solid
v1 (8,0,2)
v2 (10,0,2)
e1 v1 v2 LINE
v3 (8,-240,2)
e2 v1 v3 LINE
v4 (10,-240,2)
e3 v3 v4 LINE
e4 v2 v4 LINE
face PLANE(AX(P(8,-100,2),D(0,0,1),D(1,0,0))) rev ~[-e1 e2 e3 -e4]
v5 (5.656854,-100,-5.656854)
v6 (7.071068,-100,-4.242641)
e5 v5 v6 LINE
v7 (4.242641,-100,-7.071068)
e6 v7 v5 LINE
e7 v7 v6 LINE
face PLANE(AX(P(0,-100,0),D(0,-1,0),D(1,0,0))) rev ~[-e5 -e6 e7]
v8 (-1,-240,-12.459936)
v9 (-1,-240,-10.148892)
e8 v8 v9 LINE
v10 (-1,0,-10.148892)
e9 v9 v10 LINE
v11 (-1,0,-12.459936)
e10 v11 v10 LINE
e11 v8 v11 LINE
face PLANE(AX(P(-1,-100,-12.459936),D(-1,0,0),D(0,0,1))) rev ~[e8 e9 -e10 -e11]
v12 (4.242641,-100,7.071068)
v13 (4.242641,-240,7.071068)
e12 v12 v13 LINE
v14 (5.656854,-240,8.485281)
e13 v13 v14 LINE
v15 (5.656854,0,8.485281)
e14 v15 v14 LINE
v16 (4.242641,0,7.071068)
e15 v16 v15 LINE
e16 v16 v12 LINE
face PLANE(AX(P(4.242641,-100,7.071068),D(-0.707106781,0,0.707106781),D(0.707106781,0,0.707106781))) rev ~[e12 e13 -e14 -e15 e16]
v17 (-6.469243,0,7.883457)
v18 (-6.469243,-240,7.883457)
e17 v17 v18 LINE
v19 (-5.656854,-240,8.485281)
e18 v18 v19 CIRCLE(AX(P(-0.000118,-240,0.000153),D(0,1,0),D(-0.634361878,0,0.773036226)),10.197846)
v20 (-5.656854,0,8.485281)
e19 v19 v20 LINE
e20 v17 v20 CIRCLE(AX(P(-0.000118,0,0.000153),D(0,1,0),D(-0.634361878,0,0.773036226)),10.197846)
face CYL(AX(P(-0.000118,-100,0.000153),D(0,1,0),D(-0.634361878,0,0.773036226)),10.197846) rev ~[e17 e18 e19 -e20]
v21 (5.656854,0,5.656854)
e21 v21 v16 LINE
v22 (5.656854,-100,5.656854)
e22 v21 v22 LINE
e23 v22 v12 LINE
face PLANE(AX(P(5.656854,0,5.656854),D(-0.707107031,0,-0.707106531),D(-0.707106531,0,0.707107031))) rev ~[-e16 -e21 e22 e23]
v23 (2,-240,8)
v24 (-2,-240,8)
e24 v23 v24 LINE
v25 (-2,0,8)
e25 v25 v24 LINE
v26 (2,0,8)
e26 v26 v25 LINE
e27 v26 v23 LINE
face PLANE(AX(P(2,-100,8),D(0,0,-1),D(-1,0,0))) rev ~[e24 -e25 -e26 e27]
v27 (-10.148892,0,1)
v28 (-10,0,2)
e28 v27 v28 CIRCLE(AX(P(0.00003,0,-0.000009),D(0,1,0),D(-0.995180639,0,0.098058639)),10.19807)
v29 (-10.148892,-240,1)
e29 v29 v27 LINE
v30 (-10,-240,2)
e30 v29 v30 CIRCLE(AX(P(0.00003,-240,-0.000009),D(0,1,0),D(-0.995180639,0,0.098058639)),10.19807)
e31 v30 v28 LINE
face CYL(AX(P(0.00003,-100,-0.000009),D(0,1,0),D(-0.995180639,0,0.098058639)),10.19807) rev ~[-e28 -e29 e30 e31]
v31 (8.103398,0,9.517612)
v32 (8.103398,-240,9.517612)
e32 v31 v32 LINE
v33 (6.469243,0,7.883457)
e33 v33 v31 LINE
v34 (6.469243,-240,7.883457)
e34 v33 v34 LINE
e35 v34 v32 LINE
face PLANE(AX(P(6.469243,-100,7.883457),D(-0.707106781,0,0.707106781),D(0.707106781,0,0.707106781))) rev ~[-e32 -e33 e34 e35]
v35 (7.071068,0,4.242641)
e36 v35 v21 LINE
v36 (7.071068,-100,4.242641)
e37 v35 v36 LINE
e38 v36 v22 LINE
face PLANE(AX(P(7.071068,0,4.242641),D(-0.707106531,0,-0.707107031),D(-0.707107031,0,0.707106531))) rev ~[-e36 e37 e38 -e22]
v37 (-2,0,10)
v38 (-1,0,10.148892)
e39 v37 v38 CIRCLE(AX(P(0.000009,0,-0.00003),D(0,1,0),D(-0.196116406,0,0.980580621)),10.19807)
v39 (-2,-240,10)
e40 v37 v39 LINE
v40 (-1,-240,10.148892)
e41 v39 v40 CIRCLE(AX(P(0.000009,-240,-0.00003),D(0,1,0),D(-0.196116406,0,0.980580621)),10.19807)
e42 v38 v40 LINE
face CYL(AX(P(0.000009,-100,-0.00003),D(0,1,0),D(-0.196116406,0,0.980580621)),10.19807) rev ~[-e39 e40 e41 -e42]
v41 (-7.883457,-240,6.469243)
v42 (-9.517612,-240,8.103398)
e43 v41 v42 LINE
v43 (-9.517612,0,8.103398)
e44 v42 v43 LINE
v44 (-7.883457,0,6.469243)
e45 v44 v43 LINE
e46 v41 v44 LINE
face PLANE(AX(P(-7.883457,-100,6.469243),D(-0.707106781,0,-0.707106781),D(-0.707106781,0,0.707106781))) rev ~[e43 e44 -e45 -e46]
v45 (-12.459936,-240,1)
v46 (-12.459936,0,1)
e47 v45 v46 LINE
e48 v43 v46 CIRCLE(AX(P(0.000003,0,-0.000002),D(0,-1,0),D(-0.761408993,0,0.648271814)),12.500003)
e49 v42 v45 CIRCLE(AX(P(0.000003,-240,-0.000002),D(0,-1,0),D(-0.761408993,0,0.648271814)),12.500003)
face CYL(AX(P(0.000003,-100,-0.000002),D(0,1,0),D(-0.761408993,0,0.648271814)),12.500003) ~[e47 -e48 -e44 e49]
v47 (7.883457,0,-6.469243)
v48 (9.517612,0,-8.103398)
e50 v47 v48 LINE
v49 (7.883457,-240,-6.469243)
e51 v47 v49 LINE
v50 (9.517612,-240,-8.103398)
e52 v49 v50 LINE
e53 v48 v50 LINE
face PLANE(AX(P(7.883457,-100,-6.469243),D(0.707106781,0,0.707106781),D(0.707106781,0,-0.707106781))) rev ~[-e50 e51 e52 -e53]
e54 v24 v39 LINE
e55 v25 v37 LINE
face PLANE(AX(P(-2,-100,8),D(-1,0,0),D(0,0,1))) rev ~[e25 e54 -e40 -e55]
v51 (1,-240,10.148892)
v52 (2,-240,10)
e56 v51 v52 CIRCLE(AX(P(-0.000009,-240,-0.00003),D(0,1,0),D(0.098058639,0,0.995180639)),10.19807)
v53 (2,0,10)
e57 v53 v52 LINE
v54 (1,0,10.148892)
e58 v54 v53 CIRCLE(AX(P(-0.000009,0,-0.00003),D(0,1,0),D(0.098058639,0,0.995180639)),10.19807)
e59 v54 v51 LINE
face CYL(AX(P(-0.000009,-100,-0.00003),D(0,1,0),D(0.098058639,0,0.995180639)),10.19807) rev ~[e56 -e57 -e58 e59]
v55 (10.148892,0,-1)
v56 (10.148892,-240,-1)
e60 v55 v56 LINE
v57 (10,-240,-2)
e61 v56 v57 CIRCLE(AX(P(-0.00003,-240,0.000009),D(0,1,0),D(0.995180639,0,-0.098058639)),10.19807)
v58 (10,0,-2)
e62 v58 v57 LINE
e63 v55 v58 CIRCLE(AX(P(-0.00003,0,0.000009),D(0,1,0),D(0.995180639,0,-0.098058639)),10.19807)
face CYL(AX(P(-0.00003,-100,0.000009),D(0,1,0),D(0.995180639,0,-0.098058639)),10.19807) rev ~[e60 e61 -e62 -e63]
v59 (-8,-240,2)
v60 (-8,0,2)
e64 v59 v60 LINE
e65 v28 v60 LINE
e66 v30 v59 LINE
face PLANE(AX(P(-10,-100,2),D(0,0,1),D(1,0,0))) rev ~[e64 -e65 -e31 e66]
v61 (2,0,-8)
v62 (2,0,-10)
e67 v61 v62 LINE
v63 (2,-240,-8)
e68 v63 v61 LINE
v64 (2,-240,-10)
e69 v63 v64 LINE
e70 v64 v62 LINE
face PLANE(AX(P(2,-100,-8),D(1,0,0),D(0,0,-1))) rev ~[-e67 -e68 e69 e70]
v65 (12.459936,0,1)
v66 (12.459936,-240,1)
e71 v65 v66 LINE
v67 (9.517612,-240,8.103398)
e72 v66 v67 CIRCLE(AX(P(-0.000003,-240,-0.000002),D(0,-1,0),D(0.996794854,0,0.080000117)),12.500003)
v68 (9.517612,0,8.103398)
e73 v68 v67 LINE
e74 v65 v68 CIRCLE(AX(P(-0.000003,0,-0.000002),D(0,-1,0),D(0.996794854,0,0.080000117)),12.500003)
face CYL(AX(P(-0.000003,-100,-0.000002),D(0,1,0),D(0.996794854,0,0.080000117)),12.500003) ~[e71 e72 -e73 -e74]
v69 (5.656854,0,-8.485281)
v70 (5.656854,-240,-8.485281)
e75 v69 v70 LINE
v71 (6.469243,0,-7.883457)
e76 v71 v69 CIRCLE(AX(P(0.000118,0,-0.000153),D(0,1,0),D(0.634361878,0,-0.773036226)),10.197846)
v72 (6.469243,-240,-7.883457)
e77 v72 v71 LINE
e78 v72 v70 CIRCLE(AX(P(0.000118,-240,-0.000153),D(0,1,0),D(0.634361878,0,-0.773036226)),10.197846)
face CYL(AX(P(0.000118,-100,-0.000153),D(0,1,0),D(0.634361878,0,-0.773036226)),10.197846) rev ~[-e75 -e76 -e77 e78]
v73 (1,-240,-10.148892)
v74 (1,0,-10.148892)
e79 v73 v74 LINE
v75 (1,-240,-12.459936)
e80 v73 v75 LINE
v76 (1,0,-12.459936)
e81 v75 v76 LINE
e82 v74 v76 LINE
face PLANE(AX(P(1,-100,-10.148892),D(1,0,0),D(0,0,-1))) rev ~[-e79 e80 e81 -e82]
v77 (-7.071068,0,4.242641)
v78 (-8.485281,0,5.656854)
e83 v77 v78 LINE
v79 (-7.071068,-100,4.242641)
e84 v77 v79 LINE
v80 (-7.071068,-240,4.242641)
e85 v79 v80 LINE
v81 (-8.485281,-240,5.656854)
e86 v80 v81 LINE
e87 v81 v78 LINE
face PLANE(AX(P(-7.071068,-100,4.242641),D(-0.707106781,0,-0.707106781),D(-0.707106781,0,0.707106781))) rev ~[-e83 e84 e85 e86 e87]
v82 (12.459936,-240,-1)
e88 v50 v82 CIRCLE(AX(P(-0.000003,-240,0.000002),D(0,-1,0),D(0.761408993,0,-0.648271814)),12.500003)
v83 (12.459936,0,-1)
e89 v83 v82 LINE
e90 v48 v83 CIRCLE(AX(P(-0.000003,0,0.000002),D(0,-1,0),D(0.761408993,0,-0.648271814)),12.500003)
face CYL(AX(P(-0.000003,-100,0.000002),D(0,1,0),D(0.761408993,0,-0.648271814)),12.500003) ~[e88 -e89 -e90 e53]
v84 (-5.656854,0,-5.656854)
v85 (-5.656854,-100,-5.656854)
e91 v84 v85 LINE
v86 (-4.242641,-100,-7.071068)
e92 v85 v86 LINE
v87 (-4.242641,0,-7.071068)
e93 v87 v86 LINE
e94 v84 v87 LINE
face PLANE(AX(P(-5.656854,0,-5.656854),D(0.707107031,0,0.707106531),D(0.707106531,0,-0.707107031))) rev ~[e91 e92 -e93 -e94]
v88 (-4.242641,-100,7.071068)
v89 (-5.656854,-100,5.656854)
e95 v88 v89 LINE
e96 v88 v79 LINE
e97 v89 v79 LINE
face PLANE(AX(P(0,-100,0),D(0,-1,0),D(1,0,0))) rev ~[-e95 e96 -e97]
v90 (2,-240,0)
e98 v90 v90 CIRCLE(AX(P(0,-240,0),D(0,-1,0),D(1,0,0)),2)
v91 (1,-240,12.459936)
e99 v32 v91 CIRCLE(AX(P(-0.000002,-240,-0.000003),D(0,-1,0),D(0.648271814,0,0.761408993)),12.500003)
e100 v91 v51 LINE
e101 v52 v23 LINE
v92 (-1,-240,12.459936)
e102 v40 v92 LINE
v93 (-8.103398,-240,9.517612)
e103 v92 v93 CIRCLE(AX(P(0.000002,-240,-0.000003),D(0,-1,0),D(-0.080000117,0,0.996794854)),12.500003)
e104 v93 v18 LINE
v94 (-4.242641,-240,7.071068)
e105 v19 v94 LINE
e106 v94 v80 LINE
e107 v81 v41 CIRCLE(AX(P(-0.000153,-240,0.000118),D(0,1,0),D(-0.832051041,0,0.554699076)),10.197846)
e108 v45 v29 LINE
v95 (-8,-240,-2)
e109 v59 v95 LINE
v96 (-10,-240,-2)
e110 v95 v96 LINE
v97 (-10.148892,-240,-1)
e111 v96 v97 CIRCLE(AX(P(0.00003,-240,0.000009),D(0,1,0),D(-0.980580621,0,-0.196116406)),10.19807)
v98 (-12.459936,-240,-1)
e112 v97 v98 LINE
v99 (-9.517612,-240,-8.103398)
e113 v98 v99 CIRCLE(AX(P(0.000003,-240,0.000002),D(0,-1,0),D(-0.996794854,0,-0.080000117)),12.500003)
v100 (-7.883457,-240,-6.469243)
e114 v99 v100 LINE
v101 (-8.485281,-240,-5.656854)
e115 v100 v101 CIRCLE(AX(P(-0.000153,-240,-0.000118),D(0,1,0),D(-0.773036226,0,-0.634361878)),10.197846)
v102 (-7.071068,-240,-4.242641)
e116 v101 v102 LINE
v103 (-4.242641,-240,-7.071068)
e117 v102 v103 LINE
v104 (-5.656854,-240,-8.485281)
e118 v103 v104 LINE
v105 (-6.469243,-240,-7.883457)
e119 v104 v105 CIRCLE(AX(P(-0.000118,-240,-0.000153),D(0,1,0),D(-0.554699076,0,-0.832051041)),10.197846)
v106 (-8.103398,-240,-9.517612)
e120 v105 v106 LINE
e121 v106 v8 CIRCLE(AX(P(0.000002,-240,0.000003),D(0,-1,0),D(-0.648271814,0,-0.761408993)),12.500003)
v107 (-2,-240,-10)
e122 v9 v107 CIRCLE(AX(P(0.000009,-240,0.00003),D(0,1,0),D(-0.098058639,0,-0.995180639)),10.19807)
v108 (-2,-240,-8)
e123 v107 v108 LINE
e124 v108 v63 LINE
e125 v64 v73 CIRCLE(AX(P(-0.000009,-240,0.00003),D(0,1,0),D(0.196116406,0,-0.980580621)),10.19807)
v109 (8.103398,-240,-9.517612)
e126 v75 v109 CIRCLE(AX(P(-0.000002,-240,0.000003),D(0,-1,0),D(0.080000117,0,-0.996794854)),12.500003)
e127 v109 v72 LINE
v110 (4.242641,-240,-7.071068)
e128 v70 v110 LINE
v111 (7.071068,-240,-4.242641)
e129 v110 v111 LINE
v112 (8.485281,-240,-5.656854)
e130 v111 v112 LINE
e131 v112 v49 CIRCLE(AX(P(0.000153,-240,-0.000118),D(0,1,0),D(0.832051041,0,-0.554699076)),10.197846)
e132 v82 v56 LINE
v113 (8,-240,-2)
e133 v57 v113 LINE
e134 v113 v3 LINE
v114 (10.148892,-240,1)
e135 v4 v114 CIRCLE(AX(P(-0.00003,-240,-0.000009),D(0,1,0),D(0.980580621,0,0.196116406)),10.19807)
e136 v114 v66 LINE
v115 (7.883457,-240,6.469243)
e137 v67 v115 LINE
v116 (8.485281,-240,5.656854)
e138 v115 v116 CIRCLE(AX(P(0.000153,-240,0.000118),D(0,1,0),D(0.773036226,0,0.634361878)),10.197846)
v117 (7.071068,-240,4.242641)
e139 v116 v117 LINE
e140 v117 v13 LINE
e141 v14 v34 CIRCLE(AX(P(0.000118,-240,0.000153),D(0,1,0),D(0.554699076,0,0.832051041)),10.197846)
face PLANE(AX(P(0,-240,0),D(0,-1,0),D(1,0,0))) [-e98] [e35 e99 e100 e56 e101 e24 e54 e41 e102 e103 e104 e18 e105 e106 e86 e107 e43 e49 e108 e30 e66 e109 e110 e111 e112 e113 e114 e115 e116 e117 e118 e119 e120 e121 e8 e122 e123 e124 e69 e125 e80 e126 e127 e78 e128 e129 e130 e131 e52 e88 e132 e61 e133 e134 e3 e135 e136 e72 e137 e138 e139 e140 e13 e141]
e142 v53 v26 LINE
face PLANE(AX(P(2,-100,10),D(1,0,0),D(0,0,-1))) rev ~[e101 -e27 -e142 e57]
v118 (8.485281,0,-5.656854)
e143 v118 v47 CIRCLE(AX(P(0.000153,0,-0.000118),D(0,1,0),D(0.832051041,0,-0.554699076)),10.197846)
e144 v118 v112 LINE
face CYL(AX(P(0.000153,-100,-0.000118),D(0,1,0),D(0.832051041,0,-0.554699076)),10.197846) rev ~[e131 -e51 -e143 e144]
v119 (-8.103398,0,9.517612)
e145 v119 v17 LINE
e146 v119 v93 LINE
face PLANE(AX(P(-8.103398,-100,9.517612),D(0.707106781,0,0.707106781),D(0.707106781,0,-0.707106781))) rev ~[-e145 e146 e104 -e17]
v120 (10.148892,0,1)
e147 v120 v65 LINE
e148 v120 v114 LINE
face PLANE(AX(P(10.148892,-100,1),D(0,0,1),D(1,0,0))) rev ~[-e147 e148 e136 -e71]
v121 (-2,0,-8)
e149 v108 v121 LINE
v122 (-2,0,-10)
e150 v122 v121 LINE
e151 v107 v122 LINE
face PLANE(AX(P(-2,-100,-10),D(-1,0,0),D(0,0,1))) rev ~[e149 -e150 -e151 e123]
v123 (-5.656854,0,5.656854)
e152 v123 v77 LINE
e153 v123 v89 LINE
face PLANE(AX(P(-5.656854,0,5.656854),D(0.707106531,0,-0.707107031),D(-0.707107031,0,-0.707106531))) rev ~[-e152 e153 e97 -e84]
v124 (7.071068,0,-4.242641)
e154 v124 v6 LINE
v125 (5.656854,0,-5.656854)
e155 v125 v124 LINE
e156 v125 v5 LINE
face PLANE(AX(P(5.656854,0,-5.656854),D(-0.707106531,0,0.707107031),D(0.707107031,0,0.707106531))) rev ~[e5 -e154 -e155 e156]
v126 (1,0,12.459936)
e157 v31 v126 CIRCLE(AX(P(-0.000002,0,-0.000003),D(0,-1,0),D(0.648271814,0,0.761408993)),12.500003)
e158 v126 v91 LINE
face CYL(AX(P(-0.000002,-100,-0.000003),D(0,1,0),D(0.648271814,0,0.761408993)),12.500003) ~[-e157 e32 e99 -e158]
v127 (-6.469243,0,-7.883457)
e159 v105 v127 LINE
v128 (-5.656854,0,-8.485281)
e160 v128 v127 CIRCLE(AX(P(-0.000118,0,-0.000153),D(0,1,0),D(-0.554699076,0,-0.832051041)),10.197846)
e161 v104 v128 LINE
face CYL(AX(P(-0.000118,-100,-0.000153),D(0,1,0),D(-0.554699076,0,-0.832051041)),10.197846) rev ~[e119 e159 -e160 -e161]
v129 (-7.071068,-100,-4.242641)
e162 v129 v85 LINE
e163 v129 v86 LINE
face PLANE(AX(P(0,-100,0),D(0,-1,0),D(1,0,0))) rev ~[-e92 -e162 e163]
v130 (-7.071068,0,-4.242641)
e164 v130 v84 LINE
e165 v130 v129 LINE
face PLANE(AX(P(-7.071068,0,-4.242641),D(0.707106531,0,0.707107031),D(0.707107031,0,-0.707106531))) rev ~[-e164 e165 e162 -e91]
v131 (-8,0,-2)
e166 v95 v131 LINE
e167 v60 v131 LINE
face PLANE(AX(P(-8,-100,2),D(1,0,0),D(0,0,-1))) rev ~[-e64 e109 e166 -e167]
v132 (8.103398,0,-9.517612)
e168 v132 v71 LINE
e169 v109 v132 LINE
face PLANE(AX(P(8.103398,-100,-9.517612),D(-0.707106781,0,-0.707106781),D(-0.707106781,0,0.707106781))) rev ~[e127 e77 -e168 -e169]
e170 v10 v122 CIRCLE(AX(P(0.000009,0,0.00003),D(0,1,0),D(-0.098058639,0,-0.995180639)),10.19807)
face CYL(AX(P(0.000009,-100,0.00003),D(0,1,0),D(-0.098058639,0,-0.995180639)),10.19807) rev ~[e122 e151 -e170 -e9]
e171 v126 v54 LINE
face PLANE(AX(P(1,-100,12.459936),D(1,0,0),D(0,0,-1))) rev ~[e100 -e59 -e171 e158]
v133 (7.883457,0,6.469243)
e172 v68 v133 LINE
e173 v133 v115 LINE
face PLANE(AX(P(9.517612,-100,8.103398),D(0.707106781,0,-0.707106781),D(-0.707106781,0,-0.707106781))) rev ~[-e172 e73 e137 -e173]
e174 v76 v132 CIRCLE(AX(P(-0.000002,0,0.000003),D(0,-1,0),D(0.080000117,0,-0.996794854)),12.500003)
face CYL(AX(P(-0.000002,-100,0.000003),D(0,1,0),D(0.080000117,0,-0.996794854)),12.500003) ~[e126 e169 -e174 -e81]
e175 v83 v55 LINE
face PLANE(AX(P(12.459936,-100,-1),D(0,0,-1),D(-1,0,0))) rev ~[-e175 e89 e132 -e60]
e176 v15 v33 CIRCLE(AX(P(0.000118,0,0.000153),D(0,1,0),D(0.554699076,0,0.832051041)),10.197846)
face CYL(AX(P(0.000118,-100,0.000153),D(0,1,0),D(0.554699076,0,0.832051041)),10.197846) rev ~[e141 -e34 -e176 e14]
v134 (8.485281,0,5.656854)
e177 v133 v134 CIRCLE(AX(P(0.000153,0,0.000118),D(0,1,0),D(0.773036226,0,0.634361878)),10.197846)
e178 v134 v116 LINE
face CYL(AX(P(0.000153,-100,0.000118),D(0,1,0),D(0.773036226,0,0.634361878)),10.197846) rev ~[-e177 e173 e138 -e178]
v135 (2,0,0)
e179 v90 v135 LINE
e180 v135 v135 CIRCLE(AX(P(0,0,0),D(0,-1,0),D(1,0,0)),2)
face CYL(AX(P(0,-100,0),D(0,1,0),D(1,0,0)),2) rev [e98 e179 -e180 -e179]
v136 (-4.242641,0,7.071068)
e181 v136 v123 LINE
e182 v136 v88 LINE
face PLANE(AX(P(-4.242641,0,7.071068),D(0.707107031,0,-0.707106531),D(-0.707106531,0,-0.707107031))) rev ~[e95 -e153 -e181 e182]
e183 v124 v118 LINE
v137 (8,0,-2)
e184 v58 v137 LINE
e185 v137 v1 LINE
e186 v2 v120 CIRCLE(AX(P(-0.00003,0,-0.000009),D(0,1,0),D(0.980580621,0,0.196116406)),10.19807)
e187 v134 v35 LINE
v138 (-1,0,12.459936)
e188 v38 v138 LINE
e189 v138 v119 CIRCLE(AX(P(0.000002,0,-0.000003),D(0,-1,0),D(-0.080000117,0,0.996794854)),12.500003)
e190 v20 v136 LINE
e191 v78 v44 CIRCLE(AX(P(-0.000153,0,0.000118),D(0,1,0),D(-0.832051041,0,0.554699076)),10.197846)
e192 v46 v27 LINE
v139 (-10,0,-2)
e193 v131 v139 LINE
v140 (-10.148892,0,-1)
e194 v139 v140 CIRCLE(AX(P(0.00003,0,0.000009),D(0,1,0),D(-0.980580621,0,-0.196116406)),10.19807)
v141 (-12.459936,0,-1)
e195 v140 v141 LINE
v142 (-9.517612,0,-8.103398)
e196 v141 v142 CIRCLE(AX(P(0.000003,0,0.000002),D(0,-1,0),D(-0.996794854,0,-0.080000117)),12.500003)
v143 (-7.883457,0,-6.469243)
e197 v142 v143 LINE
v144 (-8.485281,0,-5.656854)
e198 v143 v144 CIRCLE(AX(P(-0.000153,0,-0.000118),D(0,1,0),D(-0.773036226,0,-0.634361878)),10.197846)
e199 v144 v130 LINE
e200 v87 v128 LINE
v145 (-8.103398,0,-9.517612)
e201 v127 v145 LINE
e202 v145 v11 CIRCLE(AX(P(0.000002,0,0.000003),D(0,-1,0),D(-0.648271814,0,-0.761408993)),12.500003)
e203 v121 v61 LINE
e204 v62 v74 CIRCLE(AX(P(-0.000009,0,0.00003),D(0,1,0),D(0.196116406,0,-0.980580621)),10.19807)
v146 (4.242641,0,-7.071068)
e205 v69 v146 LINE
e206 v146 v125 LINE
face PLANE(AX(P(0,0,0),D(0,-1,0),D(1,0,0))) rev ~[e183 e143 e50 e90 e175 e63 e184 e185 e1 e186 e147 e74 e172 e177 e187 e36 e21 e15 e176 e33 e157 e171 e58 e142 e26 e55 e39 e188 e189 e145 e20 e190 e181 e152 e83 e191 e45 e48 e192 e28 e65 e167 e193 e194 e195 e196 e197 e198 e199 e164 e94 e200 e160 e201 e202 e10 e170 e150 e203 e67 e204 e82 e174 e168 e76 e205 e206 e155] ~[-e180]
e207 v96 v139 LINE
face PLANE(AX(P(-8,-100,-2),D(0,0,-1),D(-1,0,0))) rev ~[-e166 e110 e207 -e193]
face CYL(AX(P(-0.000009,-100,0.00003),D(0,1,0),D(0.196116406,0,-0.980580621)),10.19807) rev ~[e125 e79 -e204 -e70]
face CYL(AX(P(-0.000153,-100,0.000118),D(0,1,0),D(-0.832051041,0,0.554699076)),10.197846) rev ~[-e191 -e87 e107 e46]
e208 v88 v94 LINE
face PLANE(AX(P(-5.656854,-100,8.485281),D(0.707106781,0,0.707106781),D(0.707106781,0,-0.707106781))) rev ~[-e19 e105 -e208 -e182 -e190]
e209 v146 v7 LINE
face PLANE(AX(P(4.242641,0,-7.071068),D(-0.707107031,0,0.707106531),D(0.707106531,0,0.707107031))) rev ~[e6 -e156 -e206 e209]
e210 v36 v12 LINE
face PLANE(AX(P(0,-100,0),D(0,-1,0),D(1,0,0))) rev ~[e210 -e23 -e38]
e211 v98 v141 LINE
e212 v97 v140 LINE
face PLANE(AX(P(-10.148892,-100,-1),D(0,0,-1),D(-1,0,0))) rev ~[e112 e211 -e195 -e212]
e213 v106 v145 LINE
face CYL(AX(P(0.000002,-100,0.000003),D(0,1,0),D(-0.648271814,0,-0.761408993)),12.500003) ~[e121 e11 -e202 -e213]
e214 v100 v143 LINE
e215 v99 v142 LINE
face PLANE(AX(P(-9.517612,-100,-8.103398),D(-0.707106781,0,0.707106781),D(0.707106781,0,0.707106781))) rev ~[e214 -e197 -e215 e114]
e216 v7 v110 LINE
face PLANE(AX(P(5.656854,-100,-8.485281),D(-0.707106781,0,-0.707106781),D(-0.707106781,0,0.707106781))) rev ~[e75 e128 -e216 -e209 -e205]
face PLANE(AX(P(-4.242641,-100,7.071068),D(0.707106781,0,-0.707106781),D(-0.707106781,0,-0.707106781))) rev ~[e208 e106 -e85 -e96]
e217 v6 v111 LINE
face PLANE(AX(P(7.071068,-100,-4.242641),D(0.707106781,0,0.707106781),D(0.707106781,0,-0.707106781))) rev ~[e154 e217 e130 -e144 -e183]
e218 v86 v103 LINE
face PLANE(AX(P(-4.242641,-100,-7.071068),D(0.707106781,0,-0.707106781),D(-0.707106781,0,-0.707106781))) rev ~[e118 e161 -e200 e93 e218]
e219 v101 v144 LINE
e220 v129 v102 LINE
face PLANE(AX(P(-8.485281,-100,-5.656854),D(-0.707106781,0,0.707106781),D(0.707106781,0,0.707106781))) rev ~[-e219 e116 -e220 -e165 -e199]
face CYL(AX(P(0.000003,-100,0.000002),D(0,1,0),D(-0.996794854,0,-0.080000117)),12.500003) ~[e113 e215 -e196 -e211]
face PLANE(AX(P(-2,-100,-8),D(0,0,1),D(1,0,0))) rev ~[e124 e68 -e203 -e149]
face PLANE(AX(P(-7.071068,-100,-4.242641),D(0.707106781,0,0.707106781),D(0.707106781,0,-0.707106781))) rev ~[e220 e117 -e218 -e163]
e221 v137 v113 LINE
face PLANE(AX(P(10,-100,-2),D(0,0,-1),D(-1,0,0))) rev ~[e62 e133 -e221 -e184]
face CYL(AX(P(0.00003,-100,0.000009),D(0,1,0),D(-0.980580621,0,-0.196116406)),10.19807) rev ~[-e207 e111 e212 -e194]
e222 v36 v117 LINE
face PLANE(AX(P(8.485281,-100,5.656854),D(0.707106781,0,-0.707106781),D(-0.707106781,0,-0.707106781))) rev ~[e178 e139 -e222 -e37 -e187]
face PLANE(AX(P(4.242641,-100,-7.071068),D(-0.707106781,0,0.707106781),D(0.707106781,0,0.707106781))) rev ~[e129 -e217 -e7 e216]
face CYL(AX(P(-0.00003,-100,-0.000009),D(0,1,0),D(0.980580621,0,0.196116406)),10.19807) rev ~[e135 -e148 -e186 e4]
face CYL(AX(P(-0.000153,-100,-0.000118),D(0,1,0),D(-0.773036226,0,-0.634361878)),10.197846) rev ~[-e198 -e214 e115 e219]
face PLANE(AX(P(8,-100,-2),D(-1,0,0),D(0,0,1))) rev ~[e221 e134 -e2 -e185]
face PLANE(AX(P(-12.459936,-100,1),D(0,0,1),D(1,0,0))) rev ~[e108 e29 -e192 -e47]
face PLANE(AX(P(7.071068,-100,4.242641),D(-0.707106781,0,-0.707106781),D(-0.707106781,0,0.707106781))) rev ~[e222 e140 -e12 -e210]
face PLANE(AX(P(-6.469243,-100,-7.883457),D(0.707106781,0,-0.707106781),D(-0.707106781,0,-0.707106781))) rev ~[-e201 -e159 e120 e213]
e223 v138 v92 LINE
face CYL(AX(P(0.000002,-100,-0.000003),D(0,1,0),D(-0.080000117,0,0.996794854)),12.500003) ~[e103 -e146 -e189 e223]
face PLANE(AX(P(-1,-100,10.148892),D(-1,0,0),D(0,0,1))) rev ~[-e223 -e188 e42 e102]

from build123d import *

# Parameters (mm, degrees)
F0_R      = 2
F1_DEPTH  = 100
F1_FACE_R = 2
F2_DEPTH  = 140


with BuildPart() as f1:
    # F0 (on Front) → F1 (new body)
    with BuildSketch(Plane.XZ):
        with BuildLine():
            Line((8, -2), (8, 0))
            Line((8, 0), (8, 2))
            Line((8, 2), (10, 2))
            ThreePointArc((10, 2), (10.086846, 1.501846), (10.148892, 1))
            Line((10.148892, 1), (12.459936, 1))
            ThreePointArc((12.459936, 1), (11.548494, 4.783543), (9.517612, 8.103398))
            Line((9.517612, 8.103398), (7.883457, 6.469243))
            ThreePointArc((7.883457, 6.469243), (8.194443, 6.070511), (8.485281, 5.656854))
            Line((8.485281, 5.656854), (7.071068, 4.242641))
            Line((7.071068, 4.242641), (5.656854, 5.656854))
            Line((5.656854, 5.656854), (4.242641, 7.071068))
            Line((4.242641, 7.071068), (5.656854, 8.485281))
            ThreePointArc((5.656854, 8.485281), (6.070511, 8.194443), (6.469243, 7.883457))
            Line((6.469243, 7.883457), (8.103398, 9.517612))
            ThreePointArc((8.103398, 9.517612), (4.783543, 11.548494), (1, 12.459936))
            Line((1, 12.459936), (1, 10.148892))
            ThreePointArc((1, 10.148892), (1.501846, 10.086846), (2, 10))
            Line((2, 10), (2, 8))
            Line((2, 8), (0, 8))
            Line((0, 8), (-2, 8))
            Line((-2, 8), (-2, 10))
            ThreePointArc((-2, 10), (-1.501846, 10.086846), (-1, 10.148892))
            Line((-1, 10.148892), (-1, 12.459936))
            ThreePointArc((-1, 12.459936), (-4.783543, 11.548494), (-8.103398, 9.517612))
            Line((-8.103398, 9.517612), (-6.469243, 7.883457))
            ThreePointArc((-6.469243, 7.883457), (-6.070511, 8.194443), (-5.656854, 8.485281))
            Line((-5.656854, 8.485281), (-4.242641, 7.071068))
            Line((-4.242641, 7.071068), (-5.656854, 5.656854))
            Line((-5.656854, 5.656854), (-7.071068, 4.242641))
            Line((-7.071068, 4.242641), (-8.485281, 5.656854))
            ThreePointArc((-8.485281, 5.656854), (-8.194443, 6.070511), (-7.883457, 6.469243))
            Line((-7.883457, 6.469243), (-9.517612, 8.103398))
            ThreePointArc((-9.517612, 8.103398), (-11.548494, 4.783543), (-12.459936, 1))
            Line((-12.459936, 1), (-10.148892, 1))
            ThreePointArc((-10.148892, 1), (-10.086846, 1.501846), (-10, 2))
            Line((-10, 2), (-8, 2))
            Line((-8, 2), (-8, 0))
            Line((-8, 0), (-8, -2))
            Line((-8, -2), (-10, -2))
            ThreePointArc((-10, -2), (-10.086846, -1.501846), (-10.148892, -1))
            Line((-10.148892, -1), (-12.459936, -1))
            ThreePointArc((-12.459936, -1), (-11.548494, -4.783543), (-9.517612, -8.103398))
            Line((-9.517612, -8.103398), (-7.883457, -6.469243))
            ThreePointArc((-7.883457, -6.469243), (-8.194443, -6.070511), (-8.485281, -5.656854))
            Line((-8.485281, -5.656854), (-7.071068, -4.242641))
            Line((-7.071068, -4.242641), (-5.656854, -5.656854))
            Line((-5.656854, -5.656854), (-4.242641, -7.071068))
            Line((-4.242641, -7.071068), (-5.656854, -8.485281))
            ThreePointArc((-5.656854, -8.485281), (-6.070511, -8.194443), (-6.469243, -7.883457))
            Line((-6.469243, -7.883457), (-8.103398, -9.517612))
            ThreePointArc((-8.103398, -9.517612), (-4.783543, -11.548494), (-1, -12.459936))
            Line((-1, -12.459936), (-1, -10.148892))
            ThreePointArc((-1, -10.148892), (-1.501846, -10.086846), (-2, -10))
            Line((-2, -10), (-2, -8))
            Line((-2, -8), (0, -8))
            Line((0, -8), (2, -8))
            Line((2, -8), (2, -10))
            ThreePointArc((2, -10), (1.501846, -10.086846), (1, -10.148892))
            Line((1, -10.148892), (1, -12.459936))
            ThreePointArc((1, -12.459936), (4.783543, -11.548494), (8.103398, -9.517612))
            Line((8.103398, -9.517612), (6.469243, -7.883457))
            ThreePointArc((6.469243, -7.883457), (6.070511, -8.194443), (5.656854, -8.485281))
            Line((5.656854, -8.485281), (4.242641, -7.071068))
            Line((4.242641, -7.071068), (5.656854, -5.656854))
            Line((5.656854, -5.656854), (7.071068, -4.242641))
            Line((7.071068, -4.242641), (8.485281, -5.656854))
            ThreePointArc((8.485281, -5.656854), (8.194443, -6.070511), (7.883457, -6.469243))
            Line((7.883457, -6.469243), (9.517612, -8.103398))
            ThreePointArc((9.517612, -8.103398), (11.548494, -4.783543), (12.459936, -1))
            Line((12.459936, -1), (10.148892, -1))
            ThreePointArc((10.148892, -1), (10.086846, -1.501846), (10, -2))
            Line((10, -2), (8, -2))
        make_face()
        Circle(F0_R, mode=Mode.SUBTRACT)
    extrude(amount=F1_DEPTH)

    # F1_face (on face) → F2 (join)
    with BuildSketch(Plane.XZ.offset(100)):
        with BuildLine():
            ThreePointArc((6.469243, -7.883457), (6.070511, -8.194443), (5.656854, -8.485281))
            Line((5.656854, -8.485281), (4.242641, -7.071068))
            Line((4.242641, -7.071068), (7.071068, -4.242641))
            Line((7.071068, -4.242641), (8.485281, -5.656854))
            ThreePointArc((8.485281, -5.656854), (8.194443, -6.070511), (7.883457, -6.469243))
            Line((7.883457, -6.469243), (9.517612, -8.103398))
            ThreePointArc((9.517612, -8.103398), (11.548494, -4.783543), (12.459936, -1))
            Line((12.459936, -1), (10.148892, -1))
            ThreePointArc((10.148892, -1), (10.086846, -1.501846), (10, -2))
            Line((10, -2), (8, -2))
            Line((8, -2), (8, 2))
            Line((8, 2), (10, 2))
            ThreePointArc((10, 2), (10.086846, 1.501846), (10.148892, 1))
            Line((10.148892, 1), (12.459936, 1))
            ThreePointArc((12.459936, 1), (11.548494, 4.783543), (9.517612, 8.103398))
            Line((9.517612, 8.103398), (7.883457, 6.469243))
            ThreePointArc((7.883457, 6.469243), (8.194443, 6.070511), (8.485281, 5.656854))
            Line((8.485281, 5.656854), (7.071068, 4.242641))
            Line((7.071068, 4.242641), (4.242641, 7.071068))
            Line((4.242641, 7.071068), (5.656854, 8.485281))
            ThreePointArc((5.656854, 8.485281), (6.070511, 8.194443), (6.469243, 7.883457))
            Line((6.469243, 7.883457), (8.103398, 9.517612))
            ThreePointArc((8.103398, 9.517612), (4.783543, 11.548494), (1, 12.459936))
            Line((1, 12.459936), (1, 10.148892))
            ThreePointArc((1, 10.148892), (1.501846, 10.086846), (2, 10))
            Line((2, 10), (2, 8))
            Line((2, 8), (-2, 8))
            Line((-2, 8), (-2, 10))
            ThreePointArc((-2, 10), (-1.501846, 10.086846), (-1, 10.148892))
            Line((-1, 10.148892), (-1, 12.459936))
            ThreePointArc((-1, 12.459936), (-4.783543, 11.548494), (-8.103398, 9.517612))
            Line((-8.103398, 9.517612), (-6.469243, 7.883457))
            ThreePointArc((-6.469243, 7.883457), (-6.070511, 8.194443), (-5.656854, 8.485281))
            Line((-5.656854, 8.485281), (-4.242641, 7.071068))
            Line((-4.242641, 7.071068), (-7.071068, 4.242641))
            Line((-7.071068, 4.242641), (-8.485281, 5.656854))
            ThreePointArc((-8.485281, 5.656854), (-8.194443, 6.070511), (-7.883457, 6.469243))
            Line((-7.883457, 6.469243), (-9.517612, 8.103398))
            ThreePointArc((-9.517612, 8.103398), (-11.548494, 4.783543), (-12.459936, 1))
            Line((-12.459936, 1), (-10.148892, 1))
            ThreePointArc((-10.148892, 1), (-10.086846, 1.501846), (-10, 2))
            Line((-10, 2), (-8, 2))
            Line((-8, 2), (-8, -2))
            Line((-8, -2), (-10, -2))
            ThreePointArc((-10, -2), (-10.086846, -1.501846), (-10.148892, -1))
            Line((-10.148892, -1), (-12.459936, -1))
            ThreePointArc((-12.459936, -1), (-11.548494, -4.783543), (-9.517612, -8.103398))
            Line((-9.517612, -8.103398), (-7.883457, -6.469243))
            ThreePointArc((-7.883457, -6.469243), (-8.194443, -6.070511), (-8.485281, -5.656854))
            Line((-8.485281, -5.656854), (-7.071068, -4.242641))
            Line((-7.071068, -4.242641), (-4.242641, -7.071068))
            Line((-4.242641, -7.071068), (-5.656854, -8.485281))
            ThreePointArc((-5.656854, -8.485281), (-6.070511, -8.194443), (-6.469243, -7.883457))
            Line((-6.469243, -7.883457), (-8.103398, -9.517612))
            ThreePointArc((-8.103398, -9.517612), (-4.783543, -11.548494), (-1, -12.459936))
            Line((-1, -12.459936), (-1, -10.148892))
            ThreePointArc((-1, -10.148892), (-1.501846, -10.086846), (-2, -10))
            Line((-2, -10), (-2, -8))
            Line((-2, -8), (2, -8))
            Line((2, -8), (2, -10))
            ThreePointArc((2, -10), (1.501846, -10.086846), (1, -10.148892))
            Line((1, -10.148892), (1, -12.459936))
            ThreePointArc((1, -12.459936), (4.783543, -11.548494), (8.103398, -9.517612))
            Line((8.103398, -9.517612), (6.469243, -7.883457))
        make_face()
        Circle(F1_FACE_R, mode=Mode.SUBTRACT)
    extrude(amount=F2_DEPTH)


solid = f1.part
